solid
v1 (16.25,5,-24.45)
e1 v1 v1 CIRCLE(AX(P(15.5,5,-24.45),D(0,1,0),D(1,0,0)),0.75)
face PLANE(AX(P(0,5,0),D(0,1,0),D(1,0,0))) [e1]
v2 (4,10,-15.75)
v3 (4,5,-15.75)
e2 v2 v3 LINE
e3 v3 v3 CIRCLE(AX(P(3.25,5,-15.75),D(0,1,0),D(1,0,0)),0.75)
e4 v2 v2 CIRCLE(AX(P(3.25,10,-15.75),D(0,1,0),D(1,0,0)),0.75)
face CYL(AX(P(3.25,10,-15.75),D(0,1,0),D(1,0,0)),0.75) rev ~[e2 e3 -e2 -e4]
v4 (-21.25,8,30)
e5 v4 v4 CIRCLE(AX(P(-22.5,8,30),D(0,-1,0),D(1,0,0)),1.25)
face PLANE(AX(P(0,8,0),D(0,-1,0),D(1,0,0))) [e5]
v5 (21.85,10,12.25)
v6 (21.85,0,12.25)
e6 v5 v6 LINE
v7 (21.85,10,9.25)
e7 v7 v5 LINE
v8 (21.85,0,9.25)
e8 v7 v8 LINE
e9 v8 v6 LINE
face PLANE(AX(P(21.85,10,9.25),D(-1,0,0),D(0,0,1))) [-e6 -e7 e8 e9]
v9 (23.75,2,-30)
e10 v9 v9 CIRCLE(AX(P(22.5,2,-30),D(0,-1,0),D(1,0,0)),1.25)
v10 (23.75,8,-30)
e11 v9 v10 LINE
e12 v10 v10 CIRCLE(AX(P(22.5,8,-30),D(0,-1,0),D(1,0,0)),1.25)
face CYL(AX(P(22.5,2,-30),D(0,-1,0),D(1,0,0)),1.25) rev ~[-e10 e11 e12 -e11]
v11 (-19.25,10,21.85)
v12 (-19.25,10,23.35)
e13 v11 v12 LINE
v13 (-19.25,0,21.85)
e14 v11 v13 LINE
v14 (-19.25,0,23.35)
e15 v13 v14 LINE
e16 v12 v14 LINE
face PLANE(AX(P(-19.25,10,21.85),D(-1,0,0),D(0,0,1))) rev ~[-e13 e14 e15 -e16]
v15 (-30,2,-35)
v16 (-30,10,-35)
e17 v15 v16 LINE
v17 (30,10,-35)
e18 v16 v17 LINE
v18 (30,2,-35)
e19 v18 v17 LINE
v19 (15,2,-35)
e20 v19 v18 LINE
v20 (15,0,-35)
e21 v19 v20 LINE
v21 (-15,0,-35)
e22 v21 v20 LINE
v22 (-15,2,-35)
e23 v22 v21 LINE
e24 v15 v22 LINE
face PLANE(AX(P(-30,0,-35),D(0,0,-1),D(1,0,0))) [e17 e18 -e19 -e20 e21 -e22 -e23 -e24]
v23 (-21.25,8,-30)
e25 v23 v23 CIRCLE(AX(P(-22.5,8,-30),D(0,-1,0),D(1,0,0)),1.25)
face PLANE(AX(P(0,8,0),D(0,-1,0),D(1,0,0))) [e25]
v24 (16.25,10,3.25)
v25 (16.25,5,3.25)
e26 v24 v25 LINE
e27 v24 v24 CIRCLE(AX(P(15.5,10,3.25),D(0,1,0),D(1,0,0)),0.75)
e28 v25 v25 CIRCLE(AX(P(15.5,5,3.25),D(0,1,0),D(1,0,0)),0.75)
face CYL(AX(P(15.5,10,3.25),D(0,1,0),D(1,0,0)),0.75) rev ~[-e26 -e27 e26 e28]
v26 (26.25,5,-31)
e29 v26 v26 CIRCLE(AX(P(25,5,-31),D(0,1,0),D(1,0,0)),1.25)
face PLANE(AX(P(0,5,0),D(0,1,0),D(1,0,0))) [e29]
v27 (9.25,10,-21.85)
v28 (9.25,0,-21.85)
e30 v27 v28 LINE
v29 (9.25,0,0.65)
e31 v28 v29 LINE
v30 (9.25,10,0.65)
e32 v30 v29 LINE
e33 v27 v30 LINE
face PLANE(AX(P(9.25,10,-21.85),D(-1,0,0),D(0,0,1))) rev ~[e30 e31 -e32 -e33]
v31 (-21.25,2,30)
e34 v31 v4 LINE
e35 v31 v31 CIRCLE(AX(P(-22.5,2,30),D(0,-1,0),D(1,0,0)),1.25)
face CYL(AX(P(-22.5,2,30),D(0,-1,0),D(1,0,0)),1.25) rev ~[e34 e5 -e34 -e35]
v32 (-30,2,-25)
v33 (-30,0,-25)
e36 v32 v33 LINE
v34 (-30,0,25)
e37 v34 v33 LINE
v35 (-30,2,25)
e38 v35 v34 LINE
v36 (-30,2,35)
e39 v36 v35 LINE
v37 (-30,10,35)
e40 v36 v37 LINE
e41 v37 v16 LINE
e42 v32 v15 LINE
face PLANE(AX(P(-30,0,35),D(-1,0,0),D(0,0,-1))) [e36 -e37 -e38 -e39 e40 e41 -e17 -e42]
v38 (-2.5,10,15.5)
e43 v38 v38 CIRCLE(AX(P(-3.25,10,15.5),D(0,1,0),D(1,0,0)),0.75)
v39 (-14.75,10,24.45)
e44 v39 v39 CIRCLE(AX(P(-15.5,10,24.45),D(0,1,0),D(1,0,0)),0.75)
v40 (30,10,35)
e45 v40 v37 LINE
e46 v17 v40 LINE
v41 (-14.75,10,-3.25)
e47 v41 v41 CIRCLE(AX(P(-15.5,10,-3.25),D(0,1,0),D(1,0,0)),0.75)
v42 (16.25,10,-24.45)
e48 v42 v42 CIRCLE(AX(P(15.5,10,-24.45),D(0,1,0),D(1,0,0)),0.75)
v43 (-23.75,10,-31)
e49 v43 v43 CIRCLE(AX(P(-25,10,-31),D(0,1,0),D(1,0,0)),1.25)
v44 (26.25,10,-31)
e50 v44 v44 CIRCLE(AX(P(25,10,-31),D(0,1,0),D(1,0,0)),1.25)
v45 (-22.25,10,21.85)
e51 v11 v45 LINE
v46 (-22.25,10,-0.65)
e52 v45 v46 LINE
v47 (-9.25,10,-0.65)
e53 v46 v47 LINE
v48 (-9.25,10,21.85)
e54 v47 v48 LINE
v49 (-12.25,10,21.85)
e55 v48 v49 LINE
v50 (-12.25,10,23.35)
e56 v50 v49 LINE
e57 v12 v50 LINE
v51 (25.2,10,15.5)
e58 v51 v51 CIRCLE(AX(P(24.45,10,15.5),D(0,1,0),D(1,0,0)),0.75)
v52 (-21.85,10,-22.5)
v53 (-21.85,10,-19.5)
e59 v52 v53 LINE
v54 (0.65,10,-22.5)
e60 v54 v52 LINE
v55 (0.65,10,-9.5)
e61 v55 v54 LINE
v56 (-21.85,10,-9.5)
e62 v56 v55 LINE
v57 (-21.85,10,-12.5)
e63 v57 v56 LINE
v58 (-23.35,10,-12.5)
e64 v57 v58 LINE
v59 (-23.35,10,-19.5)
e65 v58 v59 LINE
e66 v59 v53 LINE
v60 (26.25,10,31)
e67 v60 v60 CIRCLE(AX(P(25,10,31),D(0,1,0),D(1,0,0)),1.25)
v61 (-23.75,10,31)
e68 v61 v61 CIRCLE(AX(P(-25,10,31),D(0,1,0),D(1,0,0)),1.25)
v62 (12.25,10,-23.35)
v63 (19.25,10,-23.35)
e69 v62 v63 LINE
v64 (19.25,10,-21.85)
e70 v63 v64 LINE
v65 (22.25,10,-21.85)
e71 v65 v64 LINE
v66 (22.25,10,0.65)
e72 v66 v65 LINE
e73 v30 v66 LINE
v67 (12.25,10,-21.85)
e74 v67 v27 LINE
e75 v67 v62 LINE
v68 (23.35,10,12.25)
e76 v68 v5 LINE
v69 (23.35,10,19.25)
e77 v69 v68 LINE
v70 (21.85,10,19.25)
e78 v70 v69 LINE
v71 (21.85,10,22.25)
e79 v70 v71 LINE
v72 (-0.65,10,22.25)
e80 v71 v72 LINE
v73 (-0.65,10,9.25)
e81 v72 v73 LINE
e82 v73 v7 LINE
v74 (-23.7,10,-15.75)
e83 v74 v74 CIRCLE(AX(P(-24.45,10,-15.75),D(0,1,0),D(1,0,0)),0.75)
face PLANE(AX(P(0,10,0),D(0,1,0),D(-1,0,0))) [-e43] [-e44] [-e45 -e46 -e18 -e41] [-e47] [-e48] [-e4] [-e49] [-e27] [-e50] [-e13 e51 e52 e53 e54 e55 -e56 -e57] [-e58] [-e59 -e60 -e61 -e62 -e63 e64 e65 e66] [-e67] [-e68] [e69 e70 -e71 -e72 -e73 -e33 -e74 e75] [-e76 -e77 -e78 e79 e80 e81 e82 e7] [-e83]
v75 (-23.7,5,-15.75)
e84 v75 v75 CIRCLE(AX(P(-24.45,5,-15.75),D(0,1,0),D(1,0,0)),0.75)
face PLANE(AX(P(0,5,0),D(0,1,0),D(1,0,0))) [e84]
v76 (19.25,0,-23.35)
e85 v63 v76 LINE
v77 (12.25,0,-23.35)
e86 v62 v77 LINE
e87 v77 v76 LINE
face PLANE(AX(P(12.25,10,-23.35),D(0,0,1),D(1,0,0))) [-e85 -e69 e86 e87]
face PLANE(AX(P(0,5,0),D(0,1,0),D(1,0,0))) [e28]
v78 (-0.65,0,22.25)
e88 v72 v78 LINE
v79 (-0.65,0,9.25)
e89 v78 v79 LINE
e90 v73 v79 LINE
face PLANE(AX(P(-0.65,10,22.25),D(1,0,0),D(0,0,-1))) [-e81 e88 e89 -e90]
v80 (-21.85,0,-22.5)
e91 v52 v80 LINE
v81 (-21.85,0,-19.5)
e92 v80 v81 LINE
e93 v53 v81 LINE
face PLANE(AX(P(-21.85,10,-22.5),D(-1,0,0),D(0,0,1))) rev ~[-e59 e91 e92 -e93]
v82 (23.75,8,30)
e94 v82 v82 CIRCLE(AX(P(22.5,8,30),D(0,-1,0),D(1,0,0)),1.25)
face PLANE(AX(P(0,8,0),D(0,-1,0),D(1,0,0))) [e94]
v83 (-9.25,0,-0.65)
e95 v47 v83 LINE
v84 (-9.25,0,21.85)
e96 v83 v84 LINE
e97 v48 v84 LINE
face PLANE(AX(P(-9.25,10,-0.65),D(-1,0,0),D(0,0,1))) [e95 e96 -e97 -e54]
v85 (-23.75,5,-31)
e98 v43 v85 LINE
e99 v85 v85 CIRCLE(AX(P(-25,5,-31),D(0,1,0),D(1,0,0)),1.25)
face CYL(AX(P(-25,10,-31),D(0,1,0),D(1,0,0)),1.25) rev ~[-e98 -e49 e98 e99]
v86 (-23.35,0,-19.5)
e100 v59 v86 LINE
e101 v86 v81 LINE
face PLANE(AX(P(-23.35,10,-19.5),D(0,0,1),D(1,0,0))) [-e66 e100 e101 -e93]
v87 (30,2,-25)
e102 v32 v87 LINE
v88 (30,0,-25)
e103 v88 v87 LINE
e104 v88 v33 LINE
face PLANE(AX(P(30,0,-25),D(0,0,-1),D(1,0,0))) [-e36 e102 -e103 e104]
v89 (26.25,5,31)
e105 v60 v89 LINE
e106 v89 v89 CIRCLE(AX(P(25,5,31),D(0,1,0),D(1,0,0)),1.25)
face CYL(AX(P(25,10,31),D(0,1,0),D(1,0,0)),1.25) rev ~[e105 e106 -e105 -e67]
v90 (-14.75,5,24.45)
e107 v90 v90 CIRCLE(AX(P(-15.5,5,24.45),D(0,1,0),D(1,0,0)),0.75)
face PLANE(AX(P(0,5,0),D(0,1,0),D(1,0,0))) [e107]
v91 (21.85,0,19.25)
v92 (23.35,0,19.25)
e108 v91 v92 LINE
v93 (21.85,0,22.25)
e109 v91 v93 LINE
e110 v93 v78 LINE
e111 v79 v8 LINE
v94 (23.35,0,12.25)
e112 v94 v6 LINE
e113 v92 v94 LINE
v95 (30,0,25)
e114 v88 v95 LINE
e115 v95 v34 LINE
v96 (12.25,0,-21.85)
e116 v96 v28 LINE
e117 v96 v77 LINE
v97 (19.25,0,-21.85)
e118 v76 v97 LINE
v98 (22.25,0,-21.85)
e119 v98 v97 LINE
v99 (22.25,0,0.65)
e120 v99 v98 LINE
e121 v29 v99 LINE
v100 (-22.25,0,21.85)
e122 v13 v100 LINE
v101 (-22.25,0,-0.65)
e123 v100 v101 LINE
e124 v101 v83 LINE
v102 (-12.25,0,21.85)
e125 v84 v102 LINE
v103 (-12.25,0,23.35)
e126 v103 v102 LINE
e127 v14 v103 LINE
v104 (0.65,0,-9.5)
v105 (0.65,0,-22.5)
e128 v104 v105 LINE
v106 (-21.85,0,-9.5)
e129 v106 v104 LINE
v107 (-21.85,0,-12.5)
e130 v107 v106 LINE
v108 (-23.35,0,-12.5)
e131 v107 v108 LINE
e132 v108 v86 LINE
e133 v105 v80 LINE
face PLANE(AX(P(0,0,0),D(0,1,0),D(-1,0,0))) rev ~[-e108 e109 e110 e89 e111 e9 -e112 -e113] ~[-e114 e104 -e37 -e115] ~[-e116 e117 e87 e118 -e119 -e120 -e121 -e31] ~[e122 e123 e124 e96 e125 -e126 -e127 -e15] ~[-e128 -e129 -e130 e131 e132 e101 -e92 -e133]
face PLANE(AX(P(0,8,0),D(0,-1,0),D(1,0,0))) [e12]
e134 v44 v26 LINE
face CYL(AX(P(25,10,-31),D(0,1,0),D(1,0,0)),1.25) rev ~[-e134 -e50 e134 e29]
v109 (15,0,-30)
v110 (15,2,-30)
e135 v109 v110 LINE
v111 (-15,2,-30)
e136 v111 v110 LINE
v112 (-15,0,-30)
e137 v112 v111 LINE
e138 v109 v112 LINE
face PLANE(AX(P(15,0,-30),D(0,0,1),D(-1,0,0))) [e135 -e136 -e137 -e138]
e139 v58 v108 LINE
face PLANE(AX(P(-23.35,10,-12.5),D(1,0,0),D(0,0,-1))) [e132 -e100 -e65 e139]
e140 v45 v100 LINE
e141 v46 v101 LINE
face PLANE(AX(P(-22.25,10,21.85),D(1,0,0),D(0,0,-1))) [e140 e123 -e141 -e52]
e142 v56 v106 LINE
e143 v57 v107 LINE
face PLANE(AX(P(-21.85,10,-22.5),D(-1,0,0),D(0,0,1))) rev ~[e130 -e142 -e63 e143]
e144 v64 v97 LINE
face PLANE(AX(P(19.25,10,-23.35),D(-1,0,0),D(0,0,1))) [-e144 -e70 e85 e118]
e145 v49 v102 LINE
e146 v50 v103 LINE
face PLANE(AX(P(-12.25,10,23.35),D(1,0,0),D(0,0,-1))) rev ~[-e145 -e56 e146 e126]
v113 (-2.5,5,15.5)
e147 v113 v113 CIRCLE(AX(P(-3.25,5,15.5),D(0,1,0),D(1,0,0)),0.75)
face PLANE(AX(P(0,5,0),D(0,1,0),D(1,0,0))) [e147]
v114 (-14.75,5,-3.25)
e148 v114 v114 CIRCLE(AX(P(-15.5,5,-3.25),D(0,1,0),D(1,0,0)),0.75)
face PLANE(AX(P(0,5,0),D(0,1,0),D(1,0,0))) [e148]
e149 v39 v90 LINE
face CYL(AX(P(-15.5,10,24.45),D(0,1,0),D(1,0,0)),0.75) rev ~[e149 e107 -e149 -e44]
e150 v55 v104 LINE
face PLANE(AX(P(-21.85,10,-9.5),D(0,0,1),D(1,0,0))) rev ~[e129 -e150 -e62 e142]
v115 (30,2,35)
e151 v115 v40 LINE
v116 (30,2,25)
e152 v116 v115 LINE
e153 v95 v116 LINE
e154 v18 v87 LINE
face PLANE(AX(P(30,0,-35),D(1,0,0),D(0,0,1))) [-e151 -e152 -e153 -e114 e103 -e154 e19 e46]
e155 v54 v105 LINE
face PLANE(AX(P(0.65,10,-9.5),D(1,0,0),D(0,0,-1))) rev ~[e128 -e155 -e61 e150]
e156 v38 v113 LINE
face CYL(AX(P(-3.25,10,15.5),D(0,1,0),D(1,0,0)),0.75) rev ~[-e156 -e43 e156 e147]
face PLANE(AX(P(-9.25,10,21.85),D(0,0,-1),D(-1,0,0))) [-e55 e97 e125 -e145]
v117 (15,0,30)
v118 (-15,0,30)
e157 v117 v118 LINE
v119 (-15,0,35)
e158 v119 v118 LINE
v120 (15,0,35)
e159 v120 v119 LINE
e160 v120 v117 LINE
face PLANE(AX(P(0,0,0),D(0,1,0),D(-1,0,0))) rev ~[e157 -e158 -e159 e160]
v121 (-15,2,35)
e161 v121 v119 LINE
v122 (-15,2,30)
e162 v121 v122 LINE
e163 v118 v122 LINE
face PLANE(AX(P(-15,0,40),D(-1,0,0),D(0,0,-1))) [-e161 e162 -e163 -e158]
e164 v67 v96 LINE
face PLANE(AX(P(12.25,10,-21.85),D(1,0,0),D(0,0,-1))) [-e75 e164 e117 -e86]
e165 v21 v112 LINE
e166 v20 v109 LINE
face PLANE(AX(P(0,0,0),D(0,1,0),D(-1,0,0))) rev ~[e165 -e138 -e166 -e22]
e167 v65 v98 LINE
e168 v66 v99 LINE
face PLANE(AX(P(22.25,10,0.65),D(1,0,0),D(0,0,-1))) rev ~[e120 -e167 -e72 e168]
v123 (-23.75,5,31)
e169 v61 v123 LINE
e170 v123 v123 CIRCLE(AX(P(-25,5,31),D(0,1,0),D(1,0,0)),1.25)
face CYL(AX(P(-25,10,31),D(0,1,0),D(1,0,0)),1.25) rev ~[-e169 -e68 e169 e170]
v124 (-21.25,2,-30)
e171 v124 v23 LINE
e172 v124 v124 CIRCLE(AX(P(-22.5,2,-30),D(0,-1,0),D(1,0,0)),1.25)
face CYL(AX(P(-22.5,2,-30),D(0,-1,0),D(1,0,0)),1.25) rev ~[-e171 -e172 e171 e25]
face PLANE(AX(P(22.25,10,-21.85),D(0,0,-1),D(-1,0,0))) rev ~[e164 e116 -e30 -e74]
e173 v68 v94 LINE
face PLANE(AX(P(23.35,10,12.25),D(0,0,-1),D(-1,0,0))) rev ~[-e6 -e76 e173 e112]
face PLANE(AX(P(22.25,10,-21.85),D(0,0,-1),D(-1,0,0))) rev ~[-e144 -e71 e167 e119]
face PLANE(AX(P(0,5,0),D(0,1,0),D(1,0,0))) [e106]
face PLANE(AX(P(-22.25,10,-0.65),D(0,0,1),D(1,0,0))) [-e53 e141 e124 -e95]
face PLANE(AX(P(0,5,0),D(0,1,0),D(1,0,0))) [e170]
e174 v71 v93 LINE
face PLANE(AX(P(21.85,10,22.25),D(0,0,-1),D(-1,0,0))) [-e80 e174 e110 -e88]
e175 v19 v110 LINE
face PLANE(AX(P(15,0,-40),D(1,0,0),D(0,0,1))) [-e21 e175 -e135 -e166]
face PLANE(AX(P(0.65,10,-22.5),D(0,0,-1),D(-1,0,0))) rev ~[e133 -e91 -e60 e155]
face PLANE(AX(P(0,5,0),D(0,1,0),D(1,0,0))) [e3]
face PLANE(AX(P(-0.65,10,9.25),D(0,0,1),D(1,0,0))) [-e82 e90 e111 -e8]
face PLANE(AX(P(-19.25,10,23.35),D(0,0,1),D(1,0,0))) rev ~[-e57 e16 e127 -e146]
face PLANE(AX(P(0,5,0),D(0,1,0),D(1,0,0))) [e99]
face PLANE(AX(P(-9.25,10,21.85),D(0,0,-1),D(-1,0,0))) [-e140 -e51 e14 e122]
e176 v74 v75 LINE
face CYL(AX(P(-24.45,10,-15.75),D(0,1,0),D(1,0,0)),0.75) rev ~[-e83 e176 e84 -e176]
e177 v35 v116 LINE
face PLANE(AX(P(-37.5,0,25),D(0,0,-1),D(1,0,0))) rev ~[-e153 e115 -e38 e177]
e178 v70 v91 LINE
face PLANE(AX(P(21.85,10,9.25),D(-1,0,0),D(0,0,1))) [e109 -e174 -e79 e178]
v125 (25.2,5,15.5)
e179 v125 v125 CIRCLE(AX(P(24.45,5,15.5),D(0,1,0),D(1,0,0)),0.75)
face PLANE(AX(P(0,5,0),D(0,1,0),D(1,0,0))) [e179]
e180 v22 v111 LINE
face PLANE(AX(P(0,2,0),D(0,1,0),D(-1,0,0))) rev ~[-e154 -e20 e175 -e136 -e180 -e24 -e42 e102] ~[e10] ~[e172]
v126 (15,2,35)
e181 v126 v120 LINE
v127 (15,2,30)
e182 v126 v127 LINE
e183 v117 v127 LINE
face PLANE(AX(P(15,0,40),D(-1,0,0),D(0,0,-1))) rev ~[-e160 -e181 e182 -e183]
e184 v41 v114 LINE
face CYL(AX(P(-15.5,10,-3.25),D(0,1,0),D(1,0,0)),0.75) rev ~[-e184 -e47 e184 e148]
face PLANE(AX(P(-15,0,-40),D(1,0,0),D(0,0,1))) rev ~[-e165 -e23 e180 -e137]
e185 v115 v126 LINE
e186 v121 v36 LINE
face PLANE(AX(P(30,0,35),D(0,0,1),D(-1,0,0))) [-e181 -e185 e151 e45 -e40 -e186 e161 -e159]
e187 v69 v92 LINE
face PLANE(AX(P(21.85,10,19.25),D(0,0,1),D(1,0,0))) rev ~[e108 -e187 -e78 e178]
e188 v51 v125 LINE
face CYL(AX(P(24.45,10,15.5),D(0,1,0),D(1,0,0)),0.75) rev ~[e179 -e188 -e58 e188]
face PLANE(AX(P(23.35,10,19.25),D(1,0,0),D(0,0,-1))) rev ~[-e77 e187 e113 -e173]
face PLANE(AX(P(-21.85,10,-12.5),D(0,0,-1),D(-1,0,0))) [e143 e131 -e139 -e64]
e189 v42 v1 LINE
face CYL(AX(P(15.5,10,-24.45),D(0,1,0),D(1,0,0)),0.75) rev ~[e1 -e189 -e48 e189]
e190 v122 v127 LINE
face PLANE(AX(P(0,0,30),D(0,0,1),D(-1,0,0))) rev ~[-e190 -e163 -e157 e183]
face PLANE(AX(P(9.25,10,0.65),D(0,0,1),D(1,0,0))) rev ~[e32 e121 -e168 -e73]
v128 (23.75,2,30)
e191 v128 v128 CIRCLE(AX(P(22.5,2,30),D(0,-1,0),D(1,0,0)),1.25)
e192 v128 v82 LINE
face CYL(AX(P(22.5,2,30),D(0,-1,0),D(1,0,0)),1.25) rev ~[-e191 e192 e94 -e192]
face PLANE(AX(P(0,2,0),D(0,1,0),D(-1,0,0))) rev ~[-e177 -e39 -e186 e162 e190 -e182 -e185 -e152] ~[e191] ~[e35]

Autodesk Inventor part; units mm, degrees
ref_plane "YZ Plane" through (0, 0, 0) normal (1, 0, 0) x (0, 1, 0)
ref_plane "XZ Plane" through (0, 0, 0) normal (0, 1, 0) x (-1, 0, 0)
ref_plane "XY Plane" through (0, 0, 0) normal (0, 0, 1) x (1, 0, 0)
sketch "Skizze1" plane through (0, 0, 0) normal (0, 1, 0) x (-1, 0, 0)
  line L0 (30, -35) -> (-30, -35)
  line L1 (-30, -35) -> (-30, 35)
  line L2 (-30, 35) -> (30, 35)
  line L3 (30, 35) -> (30, -35)
  line L4 (30, -35) -> (-30, 35) construction
  line L5 (-30, -35) -> (30, 35) construction
  point P0 (0, 0)
  dimension "d0" = 60
  dimension "d1" = 70
extrude "Extrusion1" add sketch "Skizze1" along normal blind 10
sketch "Skizze2" plane through (0, 10, 0) normal (0, 1, 0) x (1, 0, 0)
  circle A0 centre (-15.75, 15.75) radius 1.75
  circle A1 centre (15.75, 15.75) radius 1.75
  circle A2 centre (15.75, -15.75) radius 1.75
  circle A3 centre (-15.75, -15.75) radius 1.75
  line L0 (42, 0) -> (-42, 0) projected
  line L1 (0, 49) -> (0, -49) projected
  point P0 (0, 0)
  dimension "d4" = 31.5
  dimension "d5" = 31.5
  dimension "d6" = 15.75
  dimension "d7" = 31.5
  dimension "d8" = 31.5
  dimension "d9" = 15.75
  dimension "d10" = 15.75
  dimension "d11" = 15.75
  dimension "d12" = 3.5
  dimension "d13" = 3.5
  dimension "d14" = 3.5
  dimension "d15" = 3.5
extrude "Extrusion2" cut sketch "Skizze2" against normal blind 10
sketch "Skizze3" plane through (0, 10, 0) normal (0, 1, 0) x (1, 0, 0)
  circle A0 centre (-15.75, 15.75) radius 1.75 projected
  circle A1 centre (-15.75, 15.75) radius 5
  circle A2 centre (15.75, 15.75) radius 1.75 projected
  circle A3 centre (15.75, 15.75) radius 5
  circle A4 centre (15.75, -15.75) radius 1.75 projected
  circle A5 centre (15.75, -15.75) radius 5
  circle A6 centre (-15.75, -15.75) radius 1.75 projected
  circle A7 centre (-15.75, -15.75) radius 5
  point P0 (0, 0)
  dimension "d18" = 10
  dimension "d19" = 10
  dimension "d20" = 10
  dimension "d21" = 10
extrude "Extrusion3" cut sketch "Skizze3" against normal blind 7 contours A0 | A1 | A2 | A3 | A4 | A5 | A6 | A7
sketch "Skizze6" plane through (0, 0, 0) normal (0, 1, 0) x (-1, 0, 0)
  line L0 (37.5, 25) -> (-37.5, 25)
  line L1 (37.5, -25) -> (-37.5, -25)
  line L2 (37.5, 40) -> (15, 40)
  line L3 (15, 40) -> (15, 30)
  line L4 (-37.5, 40) -> (-15, 40)
  line L5 (-15, 40) -> (-15, 30)
  line L6 (0, -45.47) -> (0, 45.495) projected
  line L7 (37.5, -40) -> (15, -40)
  line L8 (15, -40) -> (15, -30)
  line L9 (-37.5, -40) -> (-15, -40)
  line L10 (-15, -40) -> (-15, -30)
  line L11 (-15, 30) -> (15, 30)
  line L12 (-15, -30) -> (15, -30)
  line L13 (-37.5, 25) -> (-37.5, 40)
  line L14 (37.5, 40) -> (37.5, 25)
  line L15 (-37.5, -25) -> (-37.5, -40)
  line L16 (-30, 35) -> (-30, -35) projected
  line L17 (37.5, -25) -> (37.5, -40)
  point P0 (0, 0)
  dimension "d37" = 10
  dimension "d38" = 15
  dimension "d39" = 15
  dimension "d40" = 75
  dimension "d43" = 10
  dimension "d44" = 15
  dimension "d45" = 15
  dimension "d46" = 22.5
  dimension "d47" = 22.5
  dimension "d48" = 22.5
  dimension "d49" = 75
  dimension "d50" = 22.5
  dimension "d76" = 5
  dimension "d77" = 25
  dimension "d78" = 5
  dimension "d79" = 25
extrude "Extrusion6" cut sketch "Skizze6" along normal blind 2 contours L0 L6 L11 L3 L2 L14 | L0 L13 L4 L5 L11 L6 | L6 L12 L10 L9 L15 L1 | L1 L17 L7 L8 L12 L6
sketch "Skizze7" plane through (0, 2, 0) normal (0, -1, 0) x (1, 0, 0)
  circle A0 centre (-22.5, 30) radius 1.25
  circle A1 centre (22.5, 30) radius 1.25
  circle A2 centre (22.5, -30) radius 1.25
  circle A3 centre (-22.5, -30) radius 1.25
  line L0 (0, 49) -> (0, -49) projected
  line L1 (-42, 0) -> (42, 0) projected
  point P0 (0, 0)
  dimension "d55" = 45
  dimension "d56" = 22.5
  dimension "d57" = 60
  dimension "d58" = 45
  dimension "d59" = 60
  dimension "d60" = 30
  dimension "d61" = 30
  dimension "d62" = 2.5
  dimension "d63" = 2.5
  dimension "d64" = 2.5
  dimension "d65" = 2.5
  dimension "d71" = 22.5
extrude "Extrusion7" cut sketch "Skizze7" against normal blind 6
sketch "Skizze9" plane through (0, 10, 0) normal (0, 1, 0) x (1, 0, 0)
  line L0 (-9.25, -21.85) -> (-22.25, -21.85)
  line L1 (-22.25, -21.85) -> (-22.25, 0.65)
  line L2 (-22.25, 0.65) -> (-9.25, 0.65)
  line L3 (-9.25, 0.65) -> (-9.25, -21.85)
  circle A0 centre (-15.75, -15.75) radius 1.75 projected
  line L4 (21.85, -22.25) -> (-0.65, -22.25)
  line L5 (-0.65, -22.25) -> (-0.65, -9.25)
  line L6 (-0.65, -9.25) -> (21.85, -9.25)
  line L7 (21.85, -9.25) -> (21.85, -22.25)
  line L8 (22.25, 21.85) -> (9.25, 21.85)
  line L9 (9.25, 21.85) -> (9.25, -0.65)
  line L10 (9.25, -0.65) -> (22.25, -0.65)
  line L11 (22.25, -0.65) -> (22.25, 21.85)
  circle A1 centre (15.75, 15.75) radius 1.75 projected
  line L12 (-21.85, 9.5) -> (0.65, 9.5)
  line L13 (0.65, 9.5) -> (0.65, 22.5)
  line L14 (0.65, 22.5) -> (-21.85, 22.5)
  line L15 (-21.85, 22.5) -> (-21.85, 9.5)
  circle A2 centre (15.75, -15.75) radius 1.75 projected
  point P0 (0, 0)
  point P1 (-15.75, 16)
  dimension "d80" = 13
  dimension "d81" = 22.5
  dimension "d82" = 6.5
  dimension "d83" = 6.1
  dimension "d97" = 13
  dimension "d99" = 22.5
  dimension "d101" = 13
  dimension "d102" = 6.5
  dimension "d103" = 6.1
  dimension "d104" = 22.5
  dimension "d105" = 13
  dimension "d106" = 22.5
  dimension "d107" = 6.1
  dimension "d108" = 6.5
  dimension "d164" = 6.5
extrude "Extrusion9" cut sketch "Skizze9" against normal blind 10 contours L0 L1 L2 L3 | L4 L5 L6 L7 | L11 L10 L9 L8 | A1 | L15 L14 L13 L12 | A2
sketch "Skizze10" plane through (0, 10, 0) normal (0, 1, 0) x (1, 0, 0)
  circle A0 centre (-3.25, -15.5) radius 0.75
  circle A1 centre (24.45, -15.5) radius 0.75
  circle A2 centre (15.5, -3.25) radius 0.75
  circle A3 centre (15.5, 24.45) radius 0.75
  circle A4 centre (3.25, 15.75) radius 0.75
  circle A5 centre (-24.45, 15.75) radius 0.75
  circle A6 centre (-15.5, 3.25) radius 0.75
  circle A7 centre (-15.5, -24.45) radius 0.75
  line L0 (-22.25, 0.65) -> (-9.25, 0.65) projected
  line L1 (-9.25, -21.85) -> (-22.25, -21.85) projected
  line L2 (-21.85, 9.5) -> (-21.85, 22.5) projected
  line L3 (0.65, 22.5) -> (0.65, 9.5) projected
  line L4 (9.25, 21.85) -> (22.25, 21.85) projected
  line L5 (22.25, -0.65) -> (9.25, -0.65) projected
  line L6 (21.85, -9.25) -> (21.85, -22.25) projected
  line L7 (-0.65, -22.25) -> (-0.65, -9.25) projected
  line L8 (-9.25, 0.65) -> (-9.25, -21.85) projected
  line L9 (-0.65, -9.25) -> (21.85, -9.25) projected
  line L10 (9.25, -0.65) -> (9.25, 21.85) projected
  line L11 (0.65, 9.5) -> (-21.85, 9.5) projected
  point P0 (0, 0)
  dimension "d109" = 1.5
  dimension "d110" = 1.5
  dimension "d111" = 1.5
  dimension "d112" = 1.5
  dimension "d113" = 1.5
  dimension "d114" = 1.5
  dimension "d115" = 1.5
  dimension "d116" = 1.5
  dimension "d117" = 2.6
  dimension "d118" = 2.6
  dimension "d119" = 2.6
  dimension "d120" = 2.6
  dimension "d121" = 2.6
  dimension "d122" = 2.6
  dimension "d123" = 2.6
  dimension "d124" = 2.6
  dimension "d125" = 6.25
  dimension "d126" = 6.25
  dimension "d127" = 6.25
  dimension "d128" = 6.25
  dimension "d130" = 6.25
  dimension "d131" = 6.25
  dimension "d132" = 6.25
  dimension "d133" = 6.25
extrude "Extrusion10" cut sketch "Skizze10" against normal blind 5
sketch "Skizze11" plane through (0, 10, 0) normal (0, 1, 0) x (1, 0, 0)
  circle A0 centre (25, -31) radius 1.25
  circle A1 centre (-25, -31) radius 1.25
  circle A2 centre (-25, 31) radius 1.25
  circle A3 centre (25, 31) radius 1.25
  line L0 (-30, -35) -> (30, -35) projected
  line L1 (30, -35) -> (30, 35) projected
  point P0 (0, 0)
  dimension "d136" = 50
  dimension "d137" = 62
  dimension "d138" = 50
  dimension "d139" = 62
  dimension "d140" = 4
  dimension "d141" = 5
  dimension "d142" = 5
  dimension "d143" = 4
  dimension "d144" = 2.5
  dimension "d145" = 2.5
  dimension "d146" = 2.5
  dimension "d147" = 2.5
extrude "Extrusion11" cut sketch "Skizze11" against normal blind 5
sketch "Skizze12" plane through (0, 10, 0) normal (0, 1, 0) x (1, 0, 0)
  line L0 (-21.85, 22.5) -> (-21.85, 9.5) projected
  line L1 (-21.85, 12.5) -> (-23.35, 12.5)
  line L2 (-23.35, 12.5) -> (-23.35, 19.5)
  line L3 (-23.35, 19.5) -> (-21.85, 19.5)
  line L4 (-21.85, 19.5) -> (-21.85, 12.5)
  line L5 (9.25, 21.85) -> (22.25, 21.85) projected
  line L6 (19.25, 21.85) -> (12.25, 21.85)
  line L7 (12.25, 21.85) -> (12.25, 23.35)
  line L8 (12.25, 23.35) -> (19.25, 23.35)
  line L9 (19.25, 23.35) -> (19.25, 21.85)
  line L10 (21.85, -9.25) -> (21.85, -22.25) projected
  line L11 (21.85, -19.25) -> (23.35, -19.25)
  line L12 (23.35, -19.25) -> (23.35, -12.25)
  line L13 (23.35, -12.25) -> (21.85, -12.25)
  line L14 (21.85, -12.25) -> (21.85, -19.25)
  line L15 (-9.25, -21.85) -> (-22.25, -21.85) projected
  line L16 (-12.25, -21.85) -> (-19.25, -21.85)
  line L17 (-19.25, -21.85) -> (-19.25, -23.35)
  line L18 (-19.25, -23.35) -> (-12.25, -23.35)
  line L19 (-12.25, -23.35) -> (-12.25, -21.85)
  line L20 (21.85, -22.25) -> (-0.65, -22.25) projected
  line L21 (-0.65, -9.25) -> (21.85, -9.25) projected
  line L22 (-9.25, 0.65) -> (-9.25, -21.85) projected
  line L23 (-22.25, -21.85) -> (-22.25, 0.65) projected
  line L24 (-21.85, 22.5) -> (0.65, 22.5) projected
  line L25 (0.65, 9.5) -> (-21.85, 9.5) projected
  line L26 (9.25, -0.65) -> (9.25, 21.85) projected
  line L27 (22.25, 21.85) -> (22.25, -0.65) projected
  point P0 (0, 0)
  point P1 (-21.85, 19.5)
  dimension "d150" = 3
  dimension "d151" = 3
  dimension "d152" = 1.5
  dimension "d153" = 3
  dimension "d154" = 3
  dimension "d155" = 1.5
  dimension "d156" = 3
  dimension "d157" = 3
  dimension "d158" = 1.5
  dimension "d159" = 3
  dimension "d160" = 3
  dimension "d161" = 1.5
extrude "Extrusion12" cut sketch "Skizze12" against normal blind 10
equation "\"d6\" = 0.5 * d5"
equation "\"d9\" = 0.5 * d7"
equation "\"d10\" = 0.5 * d8"
equation "\"d11\" = 0.5 * d5"
equation "\"d56\" = 0.5 * d55"
equation "\"d60\" = 0.5 * d57"
equation "\"d61\" = 0.5 * d59"
equation "\"d71\" = 0.5 * d58"
equation "\"d82\" = 0.5 * d80"
equation "\"d102\" = 0.5 * d101"
equation "\"d108\" = 0.5 * d105"
equation "\"d164\" = 0.5 * d97"
properties part number "Fuehrungsgrundplatte_V2"
